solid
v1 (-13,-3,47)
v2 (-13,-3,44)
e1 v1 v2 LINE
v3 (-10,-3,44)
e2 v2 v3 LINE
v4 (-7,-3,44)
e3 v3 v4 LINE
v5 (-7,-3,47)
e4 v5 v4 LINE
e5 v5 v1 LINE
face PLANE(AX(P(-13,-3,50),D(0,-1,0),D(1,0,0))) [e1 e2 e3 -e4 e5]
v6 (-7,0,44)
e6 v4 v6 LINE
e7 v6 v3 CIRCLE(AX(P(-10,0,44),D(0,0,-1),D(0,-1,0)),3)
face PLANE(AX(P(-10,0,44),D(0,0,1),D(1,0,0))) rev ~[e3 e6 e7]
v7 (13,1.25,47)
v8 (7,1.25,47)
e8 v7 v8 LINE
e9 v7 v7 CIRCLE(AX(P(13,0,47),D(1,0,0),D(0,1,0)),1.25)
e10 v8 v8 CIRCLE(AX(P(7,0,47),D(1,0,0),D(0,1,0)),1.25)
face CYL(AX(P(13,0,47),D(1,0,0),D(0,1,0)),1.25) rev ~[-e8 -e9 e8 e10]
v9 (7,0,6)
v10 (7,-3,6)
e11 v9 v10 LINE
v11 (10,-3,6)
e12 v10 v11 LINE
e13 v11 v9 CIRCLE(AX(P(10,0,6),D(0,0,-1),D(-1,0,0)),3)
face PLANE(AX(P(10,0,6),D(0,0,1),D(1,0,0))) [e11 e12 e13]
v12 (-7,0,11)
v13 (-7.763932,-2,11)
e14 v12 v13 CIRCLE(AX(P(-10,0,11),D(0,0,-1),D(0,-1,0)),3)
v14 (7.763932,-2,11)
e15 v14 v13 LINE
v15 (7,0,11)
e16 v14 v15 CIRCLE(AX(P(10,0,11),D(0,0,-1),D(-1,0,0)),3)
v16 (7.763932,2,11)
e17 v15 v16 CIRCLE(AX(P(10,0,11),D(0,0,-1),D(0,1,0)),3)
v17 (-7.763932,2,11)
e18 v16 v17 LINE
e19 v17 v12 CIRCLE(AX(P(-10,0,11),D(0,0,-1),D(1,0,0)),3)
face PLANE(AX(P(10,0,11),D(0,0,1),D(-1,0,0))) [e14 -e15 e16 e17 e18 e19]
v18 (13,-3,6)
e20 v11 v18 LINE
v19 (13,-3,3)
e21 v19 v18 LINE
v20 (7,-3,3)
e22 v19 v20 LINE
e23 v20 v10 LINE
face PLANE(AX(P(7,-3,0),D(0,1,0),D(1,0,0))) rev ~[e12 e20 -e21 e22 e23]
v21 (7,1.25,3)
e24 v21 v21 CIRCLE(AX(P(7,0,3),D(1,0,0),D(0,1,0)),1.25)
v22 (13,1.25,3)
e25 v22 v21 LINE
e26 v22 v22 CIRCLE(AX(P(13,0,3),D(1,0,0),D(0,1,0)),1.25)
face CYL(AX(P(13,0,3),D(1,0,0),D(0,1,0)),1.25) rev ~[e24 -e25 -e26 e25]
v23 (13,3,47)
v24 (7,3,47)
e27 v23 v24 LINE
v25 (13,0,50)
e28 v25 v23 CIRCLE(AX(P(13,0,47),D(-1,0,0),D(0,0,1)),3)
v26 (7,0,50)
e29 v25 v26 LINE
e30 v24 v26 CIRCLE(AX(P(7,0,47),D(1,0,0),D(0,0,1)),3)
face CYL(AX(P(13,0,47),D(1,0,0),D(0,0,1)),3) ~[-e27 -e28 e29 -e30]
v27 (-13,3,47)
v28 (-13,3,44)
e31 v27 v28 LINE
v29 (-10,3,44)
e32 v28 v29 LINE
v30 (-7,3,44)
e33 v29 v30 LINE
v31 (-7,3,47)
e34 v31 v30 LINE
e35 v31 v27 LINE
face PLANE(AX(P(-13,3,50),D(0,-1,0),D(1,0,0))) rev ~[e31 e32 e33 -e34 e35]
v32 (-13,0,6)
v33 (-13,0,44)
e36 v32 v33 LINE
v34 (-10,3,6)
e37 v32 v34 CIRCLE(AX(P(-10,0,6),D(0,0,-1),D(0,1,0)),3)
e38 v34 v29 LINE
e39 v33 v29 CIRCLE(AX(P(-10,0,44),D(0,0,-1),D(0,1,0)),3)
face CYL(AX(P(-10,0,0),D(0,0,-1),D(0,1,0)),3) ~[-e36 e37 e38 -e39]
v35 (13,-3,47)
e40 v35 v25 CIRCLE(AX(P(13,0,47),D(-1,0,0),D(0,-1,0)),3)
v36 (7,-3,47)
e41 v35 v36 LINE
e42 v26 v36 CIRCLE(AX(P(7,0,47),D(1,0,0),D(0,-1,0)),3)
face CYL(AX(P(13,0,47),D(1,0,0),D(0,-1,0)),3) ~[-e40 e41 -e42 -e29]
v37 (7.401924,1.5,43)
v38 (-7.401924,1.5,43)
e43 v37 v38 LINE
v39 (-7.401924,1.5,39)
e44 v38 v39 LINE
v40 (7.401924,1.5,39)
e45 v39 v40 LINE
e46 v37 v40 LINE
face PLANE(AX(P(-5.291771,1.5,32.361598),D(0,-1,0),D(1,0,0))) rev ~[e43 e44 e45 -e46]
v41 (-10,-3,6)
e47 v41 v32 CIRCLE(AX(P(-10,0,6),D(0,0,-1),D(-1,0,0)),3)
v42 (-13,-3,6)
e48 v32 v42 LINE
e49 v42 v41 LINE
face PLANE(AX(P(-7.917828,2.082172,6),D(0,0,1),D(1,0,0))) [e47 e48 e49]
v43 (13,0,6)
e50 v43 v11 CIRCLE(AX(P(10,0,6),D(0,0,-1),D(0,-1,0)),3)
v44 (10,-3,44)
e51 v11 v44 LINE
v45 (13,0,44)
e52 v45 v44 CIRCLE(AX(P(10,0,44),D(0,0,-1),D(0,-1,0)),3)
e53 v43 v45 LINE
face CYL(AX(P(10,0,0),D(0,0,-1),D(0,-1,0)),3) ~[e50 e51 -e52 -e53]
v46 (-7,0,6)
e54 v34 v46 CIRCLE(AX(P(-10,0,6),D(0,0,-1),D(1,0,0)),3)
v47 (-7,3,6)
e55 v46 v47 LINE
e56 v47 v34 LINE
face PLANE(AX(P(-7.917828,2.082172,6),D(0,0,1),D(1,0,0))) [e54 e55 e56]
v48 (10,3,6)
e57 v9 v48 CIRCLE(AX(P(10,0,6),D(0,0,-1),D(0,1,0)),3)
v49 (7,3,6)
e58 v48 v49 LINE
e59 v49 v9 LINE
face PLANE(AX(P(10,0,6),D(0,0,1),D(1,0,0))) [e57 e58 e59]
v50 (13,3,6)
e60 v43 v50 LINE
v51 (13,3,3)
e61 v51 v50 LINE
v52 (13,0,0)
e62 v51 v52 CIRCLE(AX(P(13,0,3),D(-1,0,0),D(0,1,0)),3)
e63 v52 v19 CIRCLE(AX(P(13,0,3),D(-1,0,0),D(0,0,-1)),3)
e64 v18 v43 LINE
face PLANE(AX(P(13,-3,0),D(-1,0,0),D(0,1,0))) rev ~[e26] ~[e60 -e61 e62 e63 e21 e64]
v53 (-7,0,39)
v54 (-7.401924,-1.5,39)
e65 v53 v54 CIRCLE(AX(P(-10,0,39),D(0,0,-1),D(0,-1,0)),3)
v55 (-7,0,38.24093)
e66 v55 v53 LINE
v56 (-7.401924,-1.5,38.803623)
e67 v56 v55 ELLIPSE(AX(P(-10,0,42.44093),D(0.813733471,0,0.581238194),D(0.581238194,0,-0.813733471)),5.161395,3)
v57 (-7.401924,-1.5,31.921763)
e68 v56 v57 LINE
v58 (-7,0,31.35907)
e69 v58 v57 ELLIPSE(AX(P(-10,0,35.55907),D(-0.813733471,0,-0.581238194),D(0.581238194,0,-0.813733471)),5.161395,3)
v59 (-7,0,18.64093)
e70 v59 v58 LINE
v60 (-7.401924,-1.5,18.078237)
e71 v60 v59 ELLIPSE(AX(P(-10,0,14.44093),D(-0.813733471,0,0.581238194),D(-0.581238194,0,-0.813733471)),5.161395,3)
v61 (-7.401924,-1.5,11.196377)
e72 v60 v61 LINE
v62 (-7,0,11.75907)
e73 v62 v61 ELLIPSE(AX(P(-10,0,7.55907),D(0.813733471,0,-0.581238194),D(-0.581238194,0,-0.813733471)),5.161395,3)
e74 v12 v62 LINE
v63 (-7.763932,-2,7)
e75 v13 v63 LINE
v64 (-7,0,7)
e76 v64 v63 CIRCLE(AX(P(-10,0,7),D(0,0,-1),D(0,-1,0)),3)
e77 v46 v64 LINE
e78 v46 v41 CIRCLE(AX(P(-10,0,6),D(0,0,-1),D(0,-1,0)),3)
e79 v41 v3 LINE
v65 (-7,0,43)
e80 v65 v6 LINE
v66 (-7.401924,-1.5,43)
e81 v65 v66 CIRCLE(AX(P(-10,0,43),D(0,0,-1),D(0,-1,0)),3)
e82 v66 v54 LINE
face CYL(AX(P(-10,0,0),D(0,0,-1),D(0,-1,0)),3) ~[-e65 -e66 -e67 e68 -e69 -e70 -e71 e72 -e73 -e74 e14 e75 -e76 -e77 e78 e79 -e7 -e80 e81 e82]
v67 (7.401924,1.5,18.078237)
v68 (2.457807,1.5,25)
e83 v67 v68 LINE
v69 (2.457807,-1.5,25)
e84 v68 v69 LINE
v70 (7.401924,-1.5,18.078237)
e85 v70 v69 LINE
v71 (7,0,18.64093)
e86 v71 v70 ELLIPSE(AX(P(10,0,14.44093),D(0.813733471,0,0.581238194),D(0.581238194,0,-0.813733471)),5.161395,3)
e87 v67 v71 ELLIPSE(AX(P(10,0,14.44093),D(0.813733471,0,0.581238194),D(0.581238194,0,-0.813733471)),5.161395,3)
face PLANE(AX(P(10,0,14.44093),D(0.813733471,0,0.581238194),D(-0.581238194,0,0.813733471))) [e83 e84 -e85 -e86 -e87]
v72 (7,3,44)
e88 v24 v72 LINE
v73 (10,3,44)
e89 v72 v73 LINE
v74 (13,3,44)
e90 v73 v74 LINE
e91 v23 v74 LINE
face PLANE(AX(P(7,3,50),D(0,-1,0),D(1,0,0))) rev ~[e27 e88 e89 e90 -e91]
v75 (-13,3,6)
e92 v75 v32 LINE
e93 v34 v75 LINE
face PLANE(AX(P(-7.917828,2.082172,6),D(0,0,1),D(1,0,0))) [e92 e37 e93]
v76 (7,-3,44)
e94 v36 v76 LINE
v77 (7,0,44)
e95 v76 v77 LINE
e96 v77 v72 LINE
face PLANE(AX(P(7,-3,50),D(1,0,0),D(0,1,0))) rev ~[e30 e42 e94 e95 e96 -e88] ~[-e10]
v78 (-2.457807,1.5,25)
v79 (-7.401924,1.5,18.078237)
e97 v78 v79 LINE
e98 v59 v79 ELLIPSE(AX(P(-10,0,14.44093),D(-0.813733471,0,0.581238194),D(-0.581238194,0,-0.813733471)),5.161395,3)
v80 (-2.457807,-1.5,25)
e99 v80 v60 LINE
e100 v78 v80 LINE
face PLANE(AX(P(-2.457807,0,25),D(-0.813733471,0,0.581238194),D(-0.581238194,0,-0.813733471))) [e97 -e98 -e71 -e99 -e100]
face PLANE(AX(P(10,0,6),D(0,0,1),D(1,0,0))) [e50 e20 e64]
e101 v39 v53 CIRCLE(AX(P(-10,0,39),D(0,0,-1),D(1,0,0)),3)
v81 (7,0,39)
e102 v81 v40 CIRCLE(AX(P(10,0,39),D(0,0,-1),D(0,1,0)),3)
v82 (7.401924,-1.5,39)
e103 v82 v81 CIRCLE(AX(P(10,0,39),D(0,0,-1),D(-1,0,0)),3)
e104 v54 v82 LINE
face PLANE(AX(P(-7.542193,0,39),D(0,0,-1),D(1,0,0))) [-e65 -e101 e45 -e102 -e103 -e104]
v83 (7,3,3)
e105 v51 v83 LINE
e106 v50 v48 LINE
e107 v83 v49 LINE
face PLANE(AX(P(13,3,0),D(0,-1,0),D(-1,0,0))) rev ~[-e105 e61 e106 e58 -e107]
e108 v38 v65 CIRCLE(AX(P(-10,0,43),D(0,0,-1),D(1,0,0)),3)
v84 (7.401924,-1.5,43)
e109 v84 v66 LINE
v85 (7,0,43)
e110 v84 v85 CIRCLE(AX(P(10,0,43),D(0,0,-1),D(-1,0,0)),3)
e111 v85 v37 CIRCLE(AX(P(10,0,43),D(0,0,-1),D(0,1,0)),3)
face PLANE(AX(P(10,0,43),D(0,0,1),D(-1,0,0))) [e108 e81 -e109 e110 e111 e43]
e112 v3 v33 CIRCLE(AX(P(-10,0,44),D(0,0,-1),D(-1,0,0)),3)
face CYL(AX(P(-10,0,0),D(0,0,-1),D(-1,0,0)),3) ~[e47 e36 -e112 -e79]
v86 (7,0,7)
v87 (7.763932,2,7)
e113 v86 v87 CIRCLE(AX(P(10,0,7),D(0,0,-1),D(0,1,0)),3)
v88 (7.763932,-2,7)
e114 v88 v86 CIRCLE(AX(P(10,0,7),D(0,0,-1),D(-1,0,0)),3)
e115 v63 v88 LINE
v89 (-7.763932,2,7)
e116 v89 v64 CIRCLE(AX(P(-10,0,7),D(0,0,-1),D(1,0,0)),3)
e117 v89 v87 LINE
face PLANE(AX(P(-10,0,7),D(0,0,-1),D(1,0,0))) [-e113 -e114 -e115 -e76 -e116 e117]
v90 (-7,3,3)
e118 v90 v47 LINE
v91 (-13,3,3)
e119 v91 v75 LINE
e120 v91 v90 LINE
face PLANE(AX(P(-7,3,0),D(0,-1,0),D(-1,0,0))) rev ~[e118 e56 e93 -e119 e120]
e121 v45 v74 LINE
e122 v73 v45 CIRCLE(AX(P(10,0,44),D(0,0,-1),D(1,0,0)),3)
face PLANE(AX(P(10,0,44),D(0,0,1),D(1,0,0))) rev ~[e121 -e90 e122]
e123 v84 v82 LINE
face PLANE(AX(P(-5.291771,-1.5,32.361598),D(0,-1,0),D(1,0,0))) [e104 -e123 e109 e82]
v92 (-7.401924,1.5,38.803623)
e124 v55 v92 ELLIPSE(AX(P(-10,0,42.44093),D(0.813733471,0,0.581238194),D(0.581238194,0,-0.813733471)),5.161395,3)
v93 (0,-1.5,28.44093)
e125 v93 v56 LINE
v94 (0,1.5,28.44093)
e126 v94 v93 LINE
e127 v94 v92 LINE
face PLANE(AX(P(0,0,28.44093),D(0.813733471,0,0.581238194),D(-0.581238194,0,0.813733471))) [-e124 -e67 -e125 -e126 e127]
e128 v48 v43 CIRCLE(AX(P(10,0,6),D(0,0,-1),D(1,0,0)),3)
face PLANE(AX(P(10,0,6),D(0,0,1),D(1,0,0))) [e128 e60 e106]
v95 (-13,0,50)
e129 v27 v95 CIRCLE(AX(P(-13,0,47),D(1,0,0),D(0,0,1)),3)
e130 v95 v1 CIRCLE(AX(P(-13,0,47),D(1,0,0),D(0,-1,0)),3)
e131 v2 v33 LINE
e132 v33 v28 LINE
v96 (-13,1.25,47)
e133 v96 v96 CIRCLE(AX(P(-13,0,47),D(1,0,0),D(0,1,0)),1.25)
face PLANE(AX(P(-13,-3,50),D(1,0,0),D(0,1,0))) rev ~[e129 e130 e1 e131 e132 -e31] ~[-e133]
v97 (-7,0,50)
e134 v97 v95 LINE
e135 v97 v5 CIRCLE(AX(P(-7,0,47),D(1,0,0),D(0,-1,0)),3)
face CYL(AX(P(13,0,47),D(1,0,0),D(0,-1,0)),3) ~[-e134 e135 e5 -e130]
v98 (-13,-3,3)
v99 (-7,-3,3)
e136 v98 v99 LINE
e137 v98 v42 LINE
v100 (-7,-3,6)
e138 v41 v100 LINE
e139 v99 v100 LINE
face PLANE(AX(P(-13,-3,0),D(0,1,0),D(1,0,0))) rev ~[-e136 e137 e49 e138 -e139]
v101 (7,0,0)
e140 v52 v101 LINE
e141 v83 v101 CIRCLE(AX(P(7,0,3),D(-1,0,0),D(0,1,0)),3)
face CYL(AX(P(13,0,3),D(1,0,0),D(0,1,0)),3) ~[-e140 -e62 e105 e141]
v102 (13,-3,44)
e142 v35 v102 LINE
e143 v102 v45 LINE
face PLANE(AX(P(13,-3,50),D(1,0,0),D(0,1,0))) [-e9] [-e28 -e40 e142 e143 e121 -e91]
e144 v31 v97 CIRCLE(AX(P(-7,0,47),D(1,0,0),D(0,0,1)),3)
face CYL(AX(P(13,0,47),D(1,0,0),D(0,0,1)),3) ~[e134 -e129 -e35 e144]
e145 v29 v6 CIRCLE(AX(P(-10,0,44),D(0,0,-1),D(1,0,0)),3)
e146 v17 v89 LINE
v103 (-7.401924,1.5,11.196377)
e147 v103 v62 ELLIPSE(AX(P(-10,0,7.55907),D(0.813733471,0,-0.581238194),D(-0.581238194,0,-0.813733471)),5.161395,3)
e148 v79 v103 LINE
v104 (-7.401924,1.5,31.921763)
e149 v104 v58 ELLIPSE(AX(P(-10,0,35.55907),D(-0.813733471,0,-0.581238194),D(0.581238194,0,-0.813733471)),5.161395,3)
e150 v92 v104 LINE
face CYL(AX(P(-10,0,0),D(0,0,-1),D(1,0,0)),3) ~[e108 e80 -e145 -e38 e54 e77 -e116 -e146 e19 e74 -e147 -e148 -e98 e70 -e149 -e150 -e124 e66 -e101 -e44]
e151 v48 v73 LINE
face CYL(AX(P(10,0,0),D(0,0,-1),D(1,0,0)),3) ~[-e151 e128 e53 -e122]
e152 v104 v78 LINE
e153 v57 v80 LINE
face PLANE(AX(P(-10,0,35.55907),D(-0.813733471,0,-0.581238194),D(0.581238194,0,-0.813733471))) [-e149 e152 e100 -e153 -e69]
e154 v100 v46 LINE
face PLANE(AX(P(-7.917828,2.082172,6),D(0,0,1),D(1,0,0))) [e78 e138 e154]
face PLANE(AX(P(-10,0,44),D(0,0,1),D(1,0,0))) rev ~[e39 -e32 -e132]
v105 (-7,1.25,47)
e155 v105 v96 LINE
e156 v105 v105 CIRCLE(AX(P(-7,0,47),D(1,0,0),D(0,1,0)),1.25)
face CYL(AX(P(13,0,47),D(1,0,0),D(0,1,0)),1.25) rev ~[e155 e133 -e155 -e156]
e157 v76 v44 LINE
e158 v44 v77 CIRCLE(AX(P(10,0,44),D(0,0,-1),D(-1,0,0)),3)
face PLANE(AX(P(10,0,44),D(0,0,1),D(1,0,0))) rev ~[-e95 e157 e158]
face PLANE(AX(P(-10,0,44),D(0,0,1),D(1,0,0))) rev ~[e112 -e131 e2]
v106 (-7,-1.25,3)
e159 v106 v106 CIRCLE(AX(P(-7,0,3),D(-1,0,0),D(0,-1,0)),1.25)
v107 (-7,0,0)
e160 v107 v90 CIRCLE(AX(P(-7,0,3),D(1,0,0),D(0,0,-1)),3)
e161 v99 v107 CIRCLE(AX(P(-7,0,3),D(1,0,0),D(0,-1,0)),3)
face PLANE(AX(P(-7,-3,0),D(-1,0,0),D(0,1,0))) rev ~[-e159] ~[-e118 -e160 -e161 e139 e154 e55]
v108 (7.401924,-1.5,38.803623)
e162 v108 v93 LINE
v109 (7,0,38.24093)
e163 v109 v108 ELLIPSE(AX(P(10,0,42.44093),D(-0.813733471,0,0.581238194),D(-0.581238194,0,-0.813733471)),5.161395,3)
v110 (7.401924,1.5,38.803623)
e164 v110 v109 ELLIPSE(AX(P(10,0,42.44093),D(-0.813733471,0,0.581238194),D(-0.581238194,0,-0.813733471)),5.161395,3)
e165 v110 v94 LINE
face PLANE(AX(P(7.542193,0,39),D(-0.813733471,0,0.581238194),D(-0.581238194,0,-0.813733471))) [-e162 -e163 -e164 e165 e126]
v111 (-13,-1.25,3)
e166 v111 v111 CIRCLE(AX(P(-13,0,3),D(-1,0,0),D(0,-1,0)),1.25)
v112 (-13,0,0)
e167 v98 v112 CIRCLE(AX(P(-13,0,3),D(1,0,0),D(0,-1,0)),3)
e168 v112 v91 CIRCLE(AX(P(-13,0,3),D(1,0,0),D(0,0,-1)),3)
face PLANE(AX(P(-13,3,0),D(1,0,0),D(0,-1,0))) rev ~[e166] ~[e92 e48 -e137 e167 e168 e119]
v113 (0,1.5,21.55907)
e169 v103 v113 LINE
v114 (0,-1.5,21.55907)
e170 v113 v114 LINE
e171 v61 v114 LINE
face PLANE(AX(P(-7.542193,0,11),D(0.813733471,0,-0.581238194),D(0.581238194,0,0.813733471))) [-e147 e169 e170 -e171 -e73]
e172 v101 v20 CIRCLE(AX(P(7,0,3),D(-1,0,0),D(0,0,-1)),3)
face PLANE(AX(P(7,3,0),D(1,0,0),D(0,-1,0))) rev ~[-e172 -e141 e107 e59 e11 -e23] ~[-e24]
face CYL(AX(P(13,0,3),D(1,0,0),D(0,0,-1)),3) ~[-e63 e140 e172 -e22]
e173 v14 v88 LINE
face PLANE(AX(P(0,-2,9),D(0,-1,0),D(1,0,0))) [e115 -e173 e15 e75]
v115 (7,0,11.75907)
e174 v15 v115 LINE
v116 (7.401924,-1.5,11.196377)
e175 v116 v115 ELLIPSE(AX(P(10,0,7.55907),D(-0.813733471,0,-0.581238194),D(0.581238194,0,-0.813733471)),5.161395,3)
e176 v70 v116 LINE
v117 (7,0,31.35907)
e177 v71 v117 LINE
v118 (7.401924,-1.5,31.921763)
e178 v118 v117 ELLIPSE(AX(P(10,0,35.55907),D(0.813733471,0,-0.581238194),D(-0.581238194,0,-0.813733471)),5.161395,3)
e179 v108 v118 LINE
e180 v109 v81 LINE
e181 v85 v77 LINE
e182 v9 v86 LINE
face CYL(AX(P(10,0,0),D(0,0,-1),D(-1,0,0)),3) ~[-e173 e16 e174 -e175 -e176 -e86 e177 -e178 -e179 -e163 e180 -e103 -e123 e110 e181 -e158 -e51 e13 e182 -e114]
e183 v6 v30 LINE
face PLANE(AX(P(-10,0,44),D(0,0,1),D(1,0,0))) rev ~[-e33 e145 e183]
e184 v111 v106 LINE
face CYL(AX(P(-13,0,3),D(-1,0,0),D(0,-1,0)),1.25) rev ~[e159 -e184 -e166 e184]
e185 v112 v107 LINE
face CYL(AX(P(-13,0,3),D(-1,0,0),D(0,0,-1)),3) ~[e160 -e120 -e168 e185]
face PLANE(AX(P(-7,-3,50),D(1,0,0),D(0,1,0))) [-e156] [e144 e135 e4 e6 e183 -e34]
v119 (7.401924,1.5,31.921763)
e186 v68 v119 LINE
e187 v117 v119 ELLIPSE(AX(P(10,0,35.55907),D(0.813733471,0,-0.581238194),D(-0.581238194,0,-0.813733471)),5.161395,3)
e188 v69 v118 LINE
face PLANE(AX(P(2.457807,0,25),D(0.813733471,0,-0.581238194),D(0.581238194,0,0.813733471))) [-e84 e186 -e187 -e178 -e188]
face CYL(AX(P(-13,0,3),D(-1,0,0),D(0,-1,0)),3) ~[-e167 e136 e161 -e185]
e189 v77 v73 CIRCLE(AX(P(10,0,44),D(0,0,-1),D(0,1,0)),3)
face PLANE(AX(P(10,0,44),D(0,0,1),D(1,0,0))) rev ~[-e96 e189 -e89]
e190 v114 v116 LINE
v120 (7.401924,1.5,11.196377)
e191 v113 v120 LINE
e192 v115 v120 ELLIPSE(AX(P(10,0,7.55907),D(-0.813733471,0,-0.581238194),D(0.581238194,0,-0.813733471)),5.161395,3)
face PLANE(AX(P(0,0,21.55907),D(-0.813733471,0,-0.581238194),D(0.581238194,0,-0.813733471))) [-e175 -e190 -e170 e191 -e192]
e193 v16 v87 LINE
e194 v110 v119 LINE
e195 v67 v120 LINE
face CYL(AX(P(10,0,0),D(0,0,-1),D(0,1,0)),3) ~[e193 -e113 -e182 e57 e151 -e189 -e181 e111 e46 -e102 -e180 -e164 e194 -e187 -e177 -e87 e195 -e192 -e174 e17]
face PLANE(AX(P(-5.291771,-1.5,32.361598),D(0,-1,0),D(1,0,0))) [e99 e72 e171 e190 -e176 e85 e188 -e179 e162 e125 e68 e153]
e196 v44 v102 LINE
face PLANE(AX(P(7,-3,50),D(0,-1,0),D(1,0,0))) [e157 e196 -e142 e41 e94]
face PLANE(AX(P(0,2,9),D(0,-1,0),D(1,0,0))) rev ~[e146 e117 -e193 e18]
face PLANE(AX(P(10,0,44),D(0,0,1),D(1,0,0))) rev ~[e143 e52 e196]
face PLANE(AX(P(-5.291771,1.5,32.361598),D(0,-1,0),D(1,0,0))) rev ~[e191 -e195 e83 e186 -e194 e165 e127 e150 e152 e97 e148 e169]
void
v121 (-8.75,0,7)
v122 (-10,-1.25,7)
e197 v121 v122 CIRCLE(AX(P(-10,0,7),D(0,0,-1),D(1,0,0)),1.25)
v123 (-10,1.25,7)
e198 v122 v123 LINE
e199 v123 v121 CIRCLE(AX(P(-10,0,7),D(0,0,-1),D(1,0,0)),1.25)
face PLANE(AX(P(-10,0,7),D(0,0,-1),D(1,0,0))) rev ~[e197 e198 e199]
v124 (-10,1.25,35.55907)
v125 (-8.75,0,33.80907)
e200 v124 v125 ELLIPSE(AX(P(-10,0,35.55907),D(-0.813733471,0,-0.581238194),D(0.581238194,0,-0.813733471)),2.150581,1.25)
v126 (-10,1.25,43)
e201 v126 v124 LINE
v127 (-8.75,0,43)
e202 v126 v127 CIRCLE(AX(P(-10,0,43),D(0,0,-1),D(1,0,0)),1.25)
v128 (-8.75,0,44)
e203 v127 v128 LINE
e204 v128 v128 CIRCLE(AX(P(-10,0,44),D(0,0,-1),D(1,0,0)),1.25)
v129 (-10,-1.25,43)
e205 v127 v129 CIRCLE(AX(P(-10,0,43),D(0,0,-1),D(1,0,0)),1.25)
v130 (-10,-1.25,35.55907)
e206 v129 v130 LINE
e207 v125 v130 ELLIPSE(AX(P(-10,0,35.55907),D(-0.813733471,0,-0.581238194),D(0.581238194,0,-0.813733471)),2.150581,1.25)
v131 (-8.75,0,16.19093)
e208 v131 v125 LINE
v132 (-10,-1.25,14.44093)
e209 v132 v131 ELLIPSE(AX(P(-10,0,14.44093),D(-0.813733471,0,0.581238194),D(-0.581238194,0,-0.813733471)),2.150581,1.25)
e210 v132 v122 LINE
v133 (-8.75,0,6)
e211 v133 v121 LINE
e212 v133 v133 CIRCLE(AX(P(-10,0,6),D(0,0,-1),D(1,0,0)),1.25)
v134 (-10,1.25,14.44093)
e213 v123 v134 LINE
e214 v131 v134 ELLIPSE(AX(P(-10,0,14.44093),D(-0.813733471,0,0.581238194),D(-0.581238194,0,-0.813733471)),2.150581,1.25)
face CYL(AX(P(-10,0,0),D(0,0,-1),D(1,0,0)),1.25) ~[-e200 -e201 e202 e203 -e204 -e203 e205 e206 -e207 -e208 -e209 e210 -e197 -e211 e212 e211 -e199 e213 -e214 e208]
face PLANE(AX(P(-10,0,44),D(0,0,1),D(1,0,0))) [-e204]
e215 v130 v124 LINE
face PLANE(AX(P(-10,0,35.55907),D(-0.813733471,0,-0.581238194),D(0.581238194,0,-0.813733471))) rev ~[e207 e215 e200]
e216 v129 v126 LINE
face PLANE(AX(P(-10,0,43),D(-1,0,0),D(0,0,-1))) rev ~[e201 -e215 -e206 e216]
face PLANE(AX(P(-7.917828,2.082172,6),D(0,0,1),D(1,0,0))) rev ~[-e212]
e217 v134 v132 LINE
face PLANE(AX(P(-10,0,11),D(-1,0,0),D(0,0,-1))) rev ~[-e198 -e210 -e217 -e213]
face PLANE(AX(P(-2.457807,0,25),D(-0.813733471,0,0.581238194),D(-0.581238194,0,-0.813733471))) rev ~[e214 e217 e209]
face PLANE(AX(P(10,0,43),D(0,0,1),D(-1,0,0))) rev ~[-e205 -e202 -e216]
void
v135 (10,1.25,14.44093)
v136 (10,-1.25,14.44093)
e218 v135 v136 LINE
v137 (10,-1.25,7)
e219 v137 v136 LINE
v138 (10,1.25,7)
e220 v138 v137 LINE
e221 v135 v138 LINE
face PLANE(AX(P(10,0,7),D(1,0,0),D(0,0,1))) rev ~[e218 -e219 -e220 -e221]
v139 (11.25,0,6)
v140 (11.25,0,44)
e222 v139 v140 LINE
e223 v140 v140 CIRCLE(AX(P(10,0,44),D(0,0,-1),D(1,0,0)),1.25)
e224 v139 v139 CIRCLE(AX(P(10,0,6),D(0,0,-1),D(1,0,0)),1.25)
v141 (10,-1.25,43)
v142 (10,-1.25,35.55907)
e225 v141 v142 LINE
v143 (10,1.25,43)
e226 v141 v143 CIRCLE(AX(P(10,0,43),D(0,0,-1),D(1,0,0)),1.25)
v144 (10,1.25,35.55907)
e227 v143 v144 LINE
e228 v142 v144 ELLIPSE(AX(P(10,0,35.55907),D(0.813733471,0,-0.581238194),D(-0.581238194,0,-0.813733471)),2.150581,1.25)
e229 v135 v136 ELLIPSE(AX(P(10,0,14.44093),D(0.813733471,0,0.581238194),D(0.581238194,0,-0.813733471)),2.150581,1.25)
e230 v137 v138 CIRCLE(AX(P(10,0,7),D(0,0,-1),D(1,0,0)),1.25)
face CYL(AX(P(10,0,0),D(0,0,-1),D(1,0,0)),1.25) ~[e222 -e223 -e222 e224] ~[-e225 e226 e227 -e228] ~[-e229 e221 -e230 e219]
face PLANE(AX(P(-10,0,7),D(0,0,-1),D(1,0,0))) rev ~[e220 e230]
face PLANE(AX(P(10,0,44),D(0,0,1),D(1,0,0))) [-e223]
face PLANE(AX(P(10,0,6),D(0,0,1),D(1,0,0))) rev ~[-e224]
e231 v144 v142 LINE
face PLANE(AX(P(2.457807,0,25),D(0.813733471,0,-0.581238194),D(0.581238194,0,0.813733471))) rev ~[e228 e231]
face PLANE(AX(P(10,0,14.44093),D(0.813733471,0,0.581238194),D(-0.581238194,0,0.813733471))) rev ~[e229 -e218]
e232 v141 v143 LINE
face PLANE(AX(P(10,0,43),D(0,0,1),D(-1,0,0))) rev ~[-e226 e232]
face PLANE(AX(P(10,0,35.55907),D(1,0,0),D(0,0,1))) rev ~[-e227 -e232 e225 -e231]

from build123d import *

# Parameters (mm, degrees)
F0_R      = 1.25
F1_DEPTH  = 6
F2_DEPTH  = 50
F3_DEPTH  = 50
F4_R      = 1.25
F5_DEPTH  = 6
F6_R      = 1.25
F7_DEPTH  = 6
F9_DEPTH  = 2
F11_DEPTH = 1.5
F10_W     = 6
F10_H     = 6
F12_DEPTH = 6
F13_R     = 1.25
F14_DEPTH = 30


with BuildPart() as f1:
    # F0 (on Top) → F1 (new body)
    with BuildSketch(Plane.XY):
        with BuildLine():
            ThreePointArc((10, -3), (12.1213203436, -2.1213203436), (13, 0))
            ThreePointArc((13, 0), (12.1213203436, 2.1213203436), (10, 3))
            ThreePointArc((10, 3), (7.8786796564, 2.1213203436), (7, 0))
            ThreePointArc((7, 0), (7.8786796564, -2.1213203436), (10, -3))
        make_face()
        with Locations((10, 0)):
            Circle(F0_R, mode=Mode.SUBTRACT)
        with BuildLine():
            ThreePointArc((7, 0), (7.8786796564, 2.1213203436), (10, 3))
            Line((10, 3), (7, 3))
            Line((7, 3), (7, 0))
        make_face()
        with BuildLine():
            Line((7, -3), (10, -3))
            ThreePointArc((10, -3), (7.8786796564, -2.1213203436), (7, 0))
            Line((7, 0), (7, -3))
        make_face()
        with BuildLine():
            Line((13, -3), (13, 0))
            ThreePointArc((13, 0), (12.1213203436, -2.1213203436), (10, -3))
            Line((10, -3), (13, -3))
        make_face()
        with BuildLine():
            ThreePointArc((10, 3), (12.1213203436, 2.1213203436), (13, 0))
            Line((13, 0), (13, 3))
            Line((13, 3), (10, 3))
        make_face()
        with Locations((10, 0)):
            Circle(F0_R)
    extrude(amount=F1_DEPTH)

    # F0 (on Top) → F2 (join)
    with BuildSketch(Plane.XY):
        with BuildLine():
            ThreePointArc((10, -3), (12.1213203436, -2.1213203436), (13, 0))
            ThreePointArc((13, 0), (12.1213203436, 2.1213203436), (10, 3))
            ThreePointArc((10, 3), (7.8786796564, 2.1213203436), (7, 0))
            ThreePointArc((7, 0), (7.8786796564, -2.1213203436), (10, -3))
        make_face()
        with Locations((10, 0)):
            Circle(F0_R, mode=Mode.SUBTRACT)
    extrude(amount=F2_DEPTH)

    # F4 (on face) → F5 (cut)
    with BuildSketch(Plane.YZ.offset(13)):
        with Locations((0, 3)):
            Circle(F4_R)
        with BuildLine():
            Line((-3, 0), (0, 0))
            ThreePointArc((0, 0), (-2.1213203436, 0.8786796564), (-3, 3))
            Line((-3, 3), (-3, 0))
        make_face()
        with BuildLine():
            Line((3, 0), (3, 3))
            ThreePointArc((3, 3), (2.1213203436, 0.8786796564), (0, 0))
            Line((0, 0), (3, 0))
        make_face()
    extrude(amount=-F5_DEPTH, mode=Mode.SUBTRACT)



with BuildPart() as f1b:
    # F0 (on Top) → F1, piece 2 (new body)
    with BuildSketch(Plane.XY):
        with BuildLine():
            ThreePointArc((-10, 3), (-7.8786796564, 2.1213203436), (-7, 0))
            Line((-7, 0), (-7, 3))
            Line((-7, 3), (-10, 3))
        make_face()
        with BuildLine():
            ThreePointArc((-13, 0), (-12.1213203436, 2.1213203436), (-10, 3))
            Line((-10, 3), (-13, 3))
            Line((-13, 3), (-13, 0))
        make_face()
        with BuildLine():
            ThreePointArc((-10, -3), (-7.8786796564, -2.1213203436), (-7, 0))
            ThreePointArc((-7, 0), (-7.8786796564, 2.1213203436), (-10, 3))
            ThreePointArc((-10, 3), (-12.1213203436, 2.1213203436), (-13, 0))
            ThreePointArc((-13, 0), (-12.1213203436, -2.1213203436), (-10, -3))
        make_face()
        with Locations((-10, 0)):
            Circle(F0_R, mode=Mode.SUBTRACT)
        with BuildLine():
            Line((-13, -3), (-10, -3))
            ThreePointArc((-10, -3), (-12.1213203436, -2.1213203436), (-13, 0))
            Line((-13, 0), (-13, -3))
        make_face()
        with BuildLine():
            Line((-7, -3), (-7, 0))
            ThreePointArc((-7, 0), (-7.8786796564, -2.1213203436), (-10, -3))
            Line((-10, -3), (-7, -3))
        make_face()
        with Locations((-10, 0)):
            Circle(F0_R)
    extrude(amount=F1_DEPTH)

    # F0 (on Top) → F3 (join)
    with BuildSketch(Plane.XY):
        with BuildLine():
            ThreePointArc((-10, -3), (-7.8786796564, -2.1213203436), (-7, 0))
            ThreePointArc((-7, 0), (-7.8786796564, 2.1213203436), (-10, 3))
            ThreePointArc((-10, 3), (-12.1213203436, 2.1213203436), (-13, 0))
            ThreePointArc((-13, 0), (-12.1213203436, -2.1213203436), (-10, -3))
        make_face()
        with Locations((-10, 0)):
            Circle(F0_R, mode=Mode.SUBTRACT)
    extrude(amount=F3_DEPTH)

    # F6 (on face) → F7 (cut)
    with BuildSketch(Plane(origin=(-13, 0, 0), x_dir=(0, -1, 0), z_dir=(-1, 0, 0))):
        with Locations((0, 3)):
            Circle(F6_R)
        with BuildLine():
            Line((-3, 0), (0, 0))
            ThreePointArc((0, 0), (-2.1213203436, 0.8786796564), (-3, 3))
            Line((-3, 3), (-3, 0))
        make_face()
        with BuildLine():
            Line((3, 0), (3, 3))
            ThreePointArc((3, 3), (2.1213203436, 0.8786796564), (0, 0))
            Line((0, 0), (3, 0))
        make_face()
    extrude(amount=-F7_DEPTH, mode=Mode.SUBTRACT)


with BuildPart() as f9:
    # F8 (on Front) → F9 (new body, symmetric)
    with BuildSketch(Plane.XZ):
        Polygon((-10, 7), (10, 7), (10, 11), (7.5421927808, 11), (-7.5421927808, 11), (-10, 11), align=None)
    extrude(amount=F9_DEPTH, both=True)


with BuildPart() as f1_1:
    add(f1.part)

    add(f1b.part)  # F11 merges F1b

    add(f9.part)  # F11 merges F9
    # F8 (on Front) → F11 (join, symmetric)
    with BuildSketch(Plane.XZ):
        Polygon((-10, 39), (-10, 35.5590698932), (-2.4578072192, 25), (0, 28.4409301068), (-7.5421927808, 39), align=None)
        Polygon((-2.4578072192, 25), (0, 21.5590698932), (2.4578072192, 25), (0, 28.4409301068), align=None)
        Polygon((7.5421927808, 11), (10, 11), (10, 14.4409301068), (2.4578072192, 25), (0, 21.5590698932), align=None)
        Polygon((-10, 14.4409301068), (-10, 11), (-7.5421927808, 11), (0, 21.5590698932), (-2.4578072192, 25), align=None)
        Polygon((2.4578072192, 25), (10, 35.5590698932), (10, 39), (7.5421927808, 39), (0, 28.4409301068), align=None)
        Polygon((7.5421927808, 39), (10, 39), (10, 43), (-10, 43), (-10, 39), (-7.5421927808, 39), align=None)
    extrude(amount=F11_DEPTH, both=True)

    # F10 (on face) → F12 (join)
    with BuildSketch(Plane.XY.offset(50)):
        with Locations((-10, 0)):
            Rectangle(F10_W, F10_H)
        with Locations((10, 0)):
            Rectangle(F10_W, F10_H)
    extrude(amount=-F12_DEPTH)

    # F13 (on face) → F14 (cut)
    with BuildSketch(Plane.YZ.offset(13)):
        with Locations((0, 47)):
            Circle(F13_R)
        with BuildLine():
            Line((-3, 50), (-3, 47))
            ThreePointArc((-3, 47), (-2.1213203436, 49.1213203436), (0, 50))
            Line((0, 50), (-3, 50))
        make_face()
        with BuildLine():
            ThreePointArc((0, 50), (2.1213203436, 49.1213203436), (3, 47))
            Line((3, 47), (3, 50))
            Line((3, 50), (0, 50))
        make_face()
    extrude(amount=-F14_DEPTH, mode=Mode.SUBTRACT)


solid = f1_1.part
